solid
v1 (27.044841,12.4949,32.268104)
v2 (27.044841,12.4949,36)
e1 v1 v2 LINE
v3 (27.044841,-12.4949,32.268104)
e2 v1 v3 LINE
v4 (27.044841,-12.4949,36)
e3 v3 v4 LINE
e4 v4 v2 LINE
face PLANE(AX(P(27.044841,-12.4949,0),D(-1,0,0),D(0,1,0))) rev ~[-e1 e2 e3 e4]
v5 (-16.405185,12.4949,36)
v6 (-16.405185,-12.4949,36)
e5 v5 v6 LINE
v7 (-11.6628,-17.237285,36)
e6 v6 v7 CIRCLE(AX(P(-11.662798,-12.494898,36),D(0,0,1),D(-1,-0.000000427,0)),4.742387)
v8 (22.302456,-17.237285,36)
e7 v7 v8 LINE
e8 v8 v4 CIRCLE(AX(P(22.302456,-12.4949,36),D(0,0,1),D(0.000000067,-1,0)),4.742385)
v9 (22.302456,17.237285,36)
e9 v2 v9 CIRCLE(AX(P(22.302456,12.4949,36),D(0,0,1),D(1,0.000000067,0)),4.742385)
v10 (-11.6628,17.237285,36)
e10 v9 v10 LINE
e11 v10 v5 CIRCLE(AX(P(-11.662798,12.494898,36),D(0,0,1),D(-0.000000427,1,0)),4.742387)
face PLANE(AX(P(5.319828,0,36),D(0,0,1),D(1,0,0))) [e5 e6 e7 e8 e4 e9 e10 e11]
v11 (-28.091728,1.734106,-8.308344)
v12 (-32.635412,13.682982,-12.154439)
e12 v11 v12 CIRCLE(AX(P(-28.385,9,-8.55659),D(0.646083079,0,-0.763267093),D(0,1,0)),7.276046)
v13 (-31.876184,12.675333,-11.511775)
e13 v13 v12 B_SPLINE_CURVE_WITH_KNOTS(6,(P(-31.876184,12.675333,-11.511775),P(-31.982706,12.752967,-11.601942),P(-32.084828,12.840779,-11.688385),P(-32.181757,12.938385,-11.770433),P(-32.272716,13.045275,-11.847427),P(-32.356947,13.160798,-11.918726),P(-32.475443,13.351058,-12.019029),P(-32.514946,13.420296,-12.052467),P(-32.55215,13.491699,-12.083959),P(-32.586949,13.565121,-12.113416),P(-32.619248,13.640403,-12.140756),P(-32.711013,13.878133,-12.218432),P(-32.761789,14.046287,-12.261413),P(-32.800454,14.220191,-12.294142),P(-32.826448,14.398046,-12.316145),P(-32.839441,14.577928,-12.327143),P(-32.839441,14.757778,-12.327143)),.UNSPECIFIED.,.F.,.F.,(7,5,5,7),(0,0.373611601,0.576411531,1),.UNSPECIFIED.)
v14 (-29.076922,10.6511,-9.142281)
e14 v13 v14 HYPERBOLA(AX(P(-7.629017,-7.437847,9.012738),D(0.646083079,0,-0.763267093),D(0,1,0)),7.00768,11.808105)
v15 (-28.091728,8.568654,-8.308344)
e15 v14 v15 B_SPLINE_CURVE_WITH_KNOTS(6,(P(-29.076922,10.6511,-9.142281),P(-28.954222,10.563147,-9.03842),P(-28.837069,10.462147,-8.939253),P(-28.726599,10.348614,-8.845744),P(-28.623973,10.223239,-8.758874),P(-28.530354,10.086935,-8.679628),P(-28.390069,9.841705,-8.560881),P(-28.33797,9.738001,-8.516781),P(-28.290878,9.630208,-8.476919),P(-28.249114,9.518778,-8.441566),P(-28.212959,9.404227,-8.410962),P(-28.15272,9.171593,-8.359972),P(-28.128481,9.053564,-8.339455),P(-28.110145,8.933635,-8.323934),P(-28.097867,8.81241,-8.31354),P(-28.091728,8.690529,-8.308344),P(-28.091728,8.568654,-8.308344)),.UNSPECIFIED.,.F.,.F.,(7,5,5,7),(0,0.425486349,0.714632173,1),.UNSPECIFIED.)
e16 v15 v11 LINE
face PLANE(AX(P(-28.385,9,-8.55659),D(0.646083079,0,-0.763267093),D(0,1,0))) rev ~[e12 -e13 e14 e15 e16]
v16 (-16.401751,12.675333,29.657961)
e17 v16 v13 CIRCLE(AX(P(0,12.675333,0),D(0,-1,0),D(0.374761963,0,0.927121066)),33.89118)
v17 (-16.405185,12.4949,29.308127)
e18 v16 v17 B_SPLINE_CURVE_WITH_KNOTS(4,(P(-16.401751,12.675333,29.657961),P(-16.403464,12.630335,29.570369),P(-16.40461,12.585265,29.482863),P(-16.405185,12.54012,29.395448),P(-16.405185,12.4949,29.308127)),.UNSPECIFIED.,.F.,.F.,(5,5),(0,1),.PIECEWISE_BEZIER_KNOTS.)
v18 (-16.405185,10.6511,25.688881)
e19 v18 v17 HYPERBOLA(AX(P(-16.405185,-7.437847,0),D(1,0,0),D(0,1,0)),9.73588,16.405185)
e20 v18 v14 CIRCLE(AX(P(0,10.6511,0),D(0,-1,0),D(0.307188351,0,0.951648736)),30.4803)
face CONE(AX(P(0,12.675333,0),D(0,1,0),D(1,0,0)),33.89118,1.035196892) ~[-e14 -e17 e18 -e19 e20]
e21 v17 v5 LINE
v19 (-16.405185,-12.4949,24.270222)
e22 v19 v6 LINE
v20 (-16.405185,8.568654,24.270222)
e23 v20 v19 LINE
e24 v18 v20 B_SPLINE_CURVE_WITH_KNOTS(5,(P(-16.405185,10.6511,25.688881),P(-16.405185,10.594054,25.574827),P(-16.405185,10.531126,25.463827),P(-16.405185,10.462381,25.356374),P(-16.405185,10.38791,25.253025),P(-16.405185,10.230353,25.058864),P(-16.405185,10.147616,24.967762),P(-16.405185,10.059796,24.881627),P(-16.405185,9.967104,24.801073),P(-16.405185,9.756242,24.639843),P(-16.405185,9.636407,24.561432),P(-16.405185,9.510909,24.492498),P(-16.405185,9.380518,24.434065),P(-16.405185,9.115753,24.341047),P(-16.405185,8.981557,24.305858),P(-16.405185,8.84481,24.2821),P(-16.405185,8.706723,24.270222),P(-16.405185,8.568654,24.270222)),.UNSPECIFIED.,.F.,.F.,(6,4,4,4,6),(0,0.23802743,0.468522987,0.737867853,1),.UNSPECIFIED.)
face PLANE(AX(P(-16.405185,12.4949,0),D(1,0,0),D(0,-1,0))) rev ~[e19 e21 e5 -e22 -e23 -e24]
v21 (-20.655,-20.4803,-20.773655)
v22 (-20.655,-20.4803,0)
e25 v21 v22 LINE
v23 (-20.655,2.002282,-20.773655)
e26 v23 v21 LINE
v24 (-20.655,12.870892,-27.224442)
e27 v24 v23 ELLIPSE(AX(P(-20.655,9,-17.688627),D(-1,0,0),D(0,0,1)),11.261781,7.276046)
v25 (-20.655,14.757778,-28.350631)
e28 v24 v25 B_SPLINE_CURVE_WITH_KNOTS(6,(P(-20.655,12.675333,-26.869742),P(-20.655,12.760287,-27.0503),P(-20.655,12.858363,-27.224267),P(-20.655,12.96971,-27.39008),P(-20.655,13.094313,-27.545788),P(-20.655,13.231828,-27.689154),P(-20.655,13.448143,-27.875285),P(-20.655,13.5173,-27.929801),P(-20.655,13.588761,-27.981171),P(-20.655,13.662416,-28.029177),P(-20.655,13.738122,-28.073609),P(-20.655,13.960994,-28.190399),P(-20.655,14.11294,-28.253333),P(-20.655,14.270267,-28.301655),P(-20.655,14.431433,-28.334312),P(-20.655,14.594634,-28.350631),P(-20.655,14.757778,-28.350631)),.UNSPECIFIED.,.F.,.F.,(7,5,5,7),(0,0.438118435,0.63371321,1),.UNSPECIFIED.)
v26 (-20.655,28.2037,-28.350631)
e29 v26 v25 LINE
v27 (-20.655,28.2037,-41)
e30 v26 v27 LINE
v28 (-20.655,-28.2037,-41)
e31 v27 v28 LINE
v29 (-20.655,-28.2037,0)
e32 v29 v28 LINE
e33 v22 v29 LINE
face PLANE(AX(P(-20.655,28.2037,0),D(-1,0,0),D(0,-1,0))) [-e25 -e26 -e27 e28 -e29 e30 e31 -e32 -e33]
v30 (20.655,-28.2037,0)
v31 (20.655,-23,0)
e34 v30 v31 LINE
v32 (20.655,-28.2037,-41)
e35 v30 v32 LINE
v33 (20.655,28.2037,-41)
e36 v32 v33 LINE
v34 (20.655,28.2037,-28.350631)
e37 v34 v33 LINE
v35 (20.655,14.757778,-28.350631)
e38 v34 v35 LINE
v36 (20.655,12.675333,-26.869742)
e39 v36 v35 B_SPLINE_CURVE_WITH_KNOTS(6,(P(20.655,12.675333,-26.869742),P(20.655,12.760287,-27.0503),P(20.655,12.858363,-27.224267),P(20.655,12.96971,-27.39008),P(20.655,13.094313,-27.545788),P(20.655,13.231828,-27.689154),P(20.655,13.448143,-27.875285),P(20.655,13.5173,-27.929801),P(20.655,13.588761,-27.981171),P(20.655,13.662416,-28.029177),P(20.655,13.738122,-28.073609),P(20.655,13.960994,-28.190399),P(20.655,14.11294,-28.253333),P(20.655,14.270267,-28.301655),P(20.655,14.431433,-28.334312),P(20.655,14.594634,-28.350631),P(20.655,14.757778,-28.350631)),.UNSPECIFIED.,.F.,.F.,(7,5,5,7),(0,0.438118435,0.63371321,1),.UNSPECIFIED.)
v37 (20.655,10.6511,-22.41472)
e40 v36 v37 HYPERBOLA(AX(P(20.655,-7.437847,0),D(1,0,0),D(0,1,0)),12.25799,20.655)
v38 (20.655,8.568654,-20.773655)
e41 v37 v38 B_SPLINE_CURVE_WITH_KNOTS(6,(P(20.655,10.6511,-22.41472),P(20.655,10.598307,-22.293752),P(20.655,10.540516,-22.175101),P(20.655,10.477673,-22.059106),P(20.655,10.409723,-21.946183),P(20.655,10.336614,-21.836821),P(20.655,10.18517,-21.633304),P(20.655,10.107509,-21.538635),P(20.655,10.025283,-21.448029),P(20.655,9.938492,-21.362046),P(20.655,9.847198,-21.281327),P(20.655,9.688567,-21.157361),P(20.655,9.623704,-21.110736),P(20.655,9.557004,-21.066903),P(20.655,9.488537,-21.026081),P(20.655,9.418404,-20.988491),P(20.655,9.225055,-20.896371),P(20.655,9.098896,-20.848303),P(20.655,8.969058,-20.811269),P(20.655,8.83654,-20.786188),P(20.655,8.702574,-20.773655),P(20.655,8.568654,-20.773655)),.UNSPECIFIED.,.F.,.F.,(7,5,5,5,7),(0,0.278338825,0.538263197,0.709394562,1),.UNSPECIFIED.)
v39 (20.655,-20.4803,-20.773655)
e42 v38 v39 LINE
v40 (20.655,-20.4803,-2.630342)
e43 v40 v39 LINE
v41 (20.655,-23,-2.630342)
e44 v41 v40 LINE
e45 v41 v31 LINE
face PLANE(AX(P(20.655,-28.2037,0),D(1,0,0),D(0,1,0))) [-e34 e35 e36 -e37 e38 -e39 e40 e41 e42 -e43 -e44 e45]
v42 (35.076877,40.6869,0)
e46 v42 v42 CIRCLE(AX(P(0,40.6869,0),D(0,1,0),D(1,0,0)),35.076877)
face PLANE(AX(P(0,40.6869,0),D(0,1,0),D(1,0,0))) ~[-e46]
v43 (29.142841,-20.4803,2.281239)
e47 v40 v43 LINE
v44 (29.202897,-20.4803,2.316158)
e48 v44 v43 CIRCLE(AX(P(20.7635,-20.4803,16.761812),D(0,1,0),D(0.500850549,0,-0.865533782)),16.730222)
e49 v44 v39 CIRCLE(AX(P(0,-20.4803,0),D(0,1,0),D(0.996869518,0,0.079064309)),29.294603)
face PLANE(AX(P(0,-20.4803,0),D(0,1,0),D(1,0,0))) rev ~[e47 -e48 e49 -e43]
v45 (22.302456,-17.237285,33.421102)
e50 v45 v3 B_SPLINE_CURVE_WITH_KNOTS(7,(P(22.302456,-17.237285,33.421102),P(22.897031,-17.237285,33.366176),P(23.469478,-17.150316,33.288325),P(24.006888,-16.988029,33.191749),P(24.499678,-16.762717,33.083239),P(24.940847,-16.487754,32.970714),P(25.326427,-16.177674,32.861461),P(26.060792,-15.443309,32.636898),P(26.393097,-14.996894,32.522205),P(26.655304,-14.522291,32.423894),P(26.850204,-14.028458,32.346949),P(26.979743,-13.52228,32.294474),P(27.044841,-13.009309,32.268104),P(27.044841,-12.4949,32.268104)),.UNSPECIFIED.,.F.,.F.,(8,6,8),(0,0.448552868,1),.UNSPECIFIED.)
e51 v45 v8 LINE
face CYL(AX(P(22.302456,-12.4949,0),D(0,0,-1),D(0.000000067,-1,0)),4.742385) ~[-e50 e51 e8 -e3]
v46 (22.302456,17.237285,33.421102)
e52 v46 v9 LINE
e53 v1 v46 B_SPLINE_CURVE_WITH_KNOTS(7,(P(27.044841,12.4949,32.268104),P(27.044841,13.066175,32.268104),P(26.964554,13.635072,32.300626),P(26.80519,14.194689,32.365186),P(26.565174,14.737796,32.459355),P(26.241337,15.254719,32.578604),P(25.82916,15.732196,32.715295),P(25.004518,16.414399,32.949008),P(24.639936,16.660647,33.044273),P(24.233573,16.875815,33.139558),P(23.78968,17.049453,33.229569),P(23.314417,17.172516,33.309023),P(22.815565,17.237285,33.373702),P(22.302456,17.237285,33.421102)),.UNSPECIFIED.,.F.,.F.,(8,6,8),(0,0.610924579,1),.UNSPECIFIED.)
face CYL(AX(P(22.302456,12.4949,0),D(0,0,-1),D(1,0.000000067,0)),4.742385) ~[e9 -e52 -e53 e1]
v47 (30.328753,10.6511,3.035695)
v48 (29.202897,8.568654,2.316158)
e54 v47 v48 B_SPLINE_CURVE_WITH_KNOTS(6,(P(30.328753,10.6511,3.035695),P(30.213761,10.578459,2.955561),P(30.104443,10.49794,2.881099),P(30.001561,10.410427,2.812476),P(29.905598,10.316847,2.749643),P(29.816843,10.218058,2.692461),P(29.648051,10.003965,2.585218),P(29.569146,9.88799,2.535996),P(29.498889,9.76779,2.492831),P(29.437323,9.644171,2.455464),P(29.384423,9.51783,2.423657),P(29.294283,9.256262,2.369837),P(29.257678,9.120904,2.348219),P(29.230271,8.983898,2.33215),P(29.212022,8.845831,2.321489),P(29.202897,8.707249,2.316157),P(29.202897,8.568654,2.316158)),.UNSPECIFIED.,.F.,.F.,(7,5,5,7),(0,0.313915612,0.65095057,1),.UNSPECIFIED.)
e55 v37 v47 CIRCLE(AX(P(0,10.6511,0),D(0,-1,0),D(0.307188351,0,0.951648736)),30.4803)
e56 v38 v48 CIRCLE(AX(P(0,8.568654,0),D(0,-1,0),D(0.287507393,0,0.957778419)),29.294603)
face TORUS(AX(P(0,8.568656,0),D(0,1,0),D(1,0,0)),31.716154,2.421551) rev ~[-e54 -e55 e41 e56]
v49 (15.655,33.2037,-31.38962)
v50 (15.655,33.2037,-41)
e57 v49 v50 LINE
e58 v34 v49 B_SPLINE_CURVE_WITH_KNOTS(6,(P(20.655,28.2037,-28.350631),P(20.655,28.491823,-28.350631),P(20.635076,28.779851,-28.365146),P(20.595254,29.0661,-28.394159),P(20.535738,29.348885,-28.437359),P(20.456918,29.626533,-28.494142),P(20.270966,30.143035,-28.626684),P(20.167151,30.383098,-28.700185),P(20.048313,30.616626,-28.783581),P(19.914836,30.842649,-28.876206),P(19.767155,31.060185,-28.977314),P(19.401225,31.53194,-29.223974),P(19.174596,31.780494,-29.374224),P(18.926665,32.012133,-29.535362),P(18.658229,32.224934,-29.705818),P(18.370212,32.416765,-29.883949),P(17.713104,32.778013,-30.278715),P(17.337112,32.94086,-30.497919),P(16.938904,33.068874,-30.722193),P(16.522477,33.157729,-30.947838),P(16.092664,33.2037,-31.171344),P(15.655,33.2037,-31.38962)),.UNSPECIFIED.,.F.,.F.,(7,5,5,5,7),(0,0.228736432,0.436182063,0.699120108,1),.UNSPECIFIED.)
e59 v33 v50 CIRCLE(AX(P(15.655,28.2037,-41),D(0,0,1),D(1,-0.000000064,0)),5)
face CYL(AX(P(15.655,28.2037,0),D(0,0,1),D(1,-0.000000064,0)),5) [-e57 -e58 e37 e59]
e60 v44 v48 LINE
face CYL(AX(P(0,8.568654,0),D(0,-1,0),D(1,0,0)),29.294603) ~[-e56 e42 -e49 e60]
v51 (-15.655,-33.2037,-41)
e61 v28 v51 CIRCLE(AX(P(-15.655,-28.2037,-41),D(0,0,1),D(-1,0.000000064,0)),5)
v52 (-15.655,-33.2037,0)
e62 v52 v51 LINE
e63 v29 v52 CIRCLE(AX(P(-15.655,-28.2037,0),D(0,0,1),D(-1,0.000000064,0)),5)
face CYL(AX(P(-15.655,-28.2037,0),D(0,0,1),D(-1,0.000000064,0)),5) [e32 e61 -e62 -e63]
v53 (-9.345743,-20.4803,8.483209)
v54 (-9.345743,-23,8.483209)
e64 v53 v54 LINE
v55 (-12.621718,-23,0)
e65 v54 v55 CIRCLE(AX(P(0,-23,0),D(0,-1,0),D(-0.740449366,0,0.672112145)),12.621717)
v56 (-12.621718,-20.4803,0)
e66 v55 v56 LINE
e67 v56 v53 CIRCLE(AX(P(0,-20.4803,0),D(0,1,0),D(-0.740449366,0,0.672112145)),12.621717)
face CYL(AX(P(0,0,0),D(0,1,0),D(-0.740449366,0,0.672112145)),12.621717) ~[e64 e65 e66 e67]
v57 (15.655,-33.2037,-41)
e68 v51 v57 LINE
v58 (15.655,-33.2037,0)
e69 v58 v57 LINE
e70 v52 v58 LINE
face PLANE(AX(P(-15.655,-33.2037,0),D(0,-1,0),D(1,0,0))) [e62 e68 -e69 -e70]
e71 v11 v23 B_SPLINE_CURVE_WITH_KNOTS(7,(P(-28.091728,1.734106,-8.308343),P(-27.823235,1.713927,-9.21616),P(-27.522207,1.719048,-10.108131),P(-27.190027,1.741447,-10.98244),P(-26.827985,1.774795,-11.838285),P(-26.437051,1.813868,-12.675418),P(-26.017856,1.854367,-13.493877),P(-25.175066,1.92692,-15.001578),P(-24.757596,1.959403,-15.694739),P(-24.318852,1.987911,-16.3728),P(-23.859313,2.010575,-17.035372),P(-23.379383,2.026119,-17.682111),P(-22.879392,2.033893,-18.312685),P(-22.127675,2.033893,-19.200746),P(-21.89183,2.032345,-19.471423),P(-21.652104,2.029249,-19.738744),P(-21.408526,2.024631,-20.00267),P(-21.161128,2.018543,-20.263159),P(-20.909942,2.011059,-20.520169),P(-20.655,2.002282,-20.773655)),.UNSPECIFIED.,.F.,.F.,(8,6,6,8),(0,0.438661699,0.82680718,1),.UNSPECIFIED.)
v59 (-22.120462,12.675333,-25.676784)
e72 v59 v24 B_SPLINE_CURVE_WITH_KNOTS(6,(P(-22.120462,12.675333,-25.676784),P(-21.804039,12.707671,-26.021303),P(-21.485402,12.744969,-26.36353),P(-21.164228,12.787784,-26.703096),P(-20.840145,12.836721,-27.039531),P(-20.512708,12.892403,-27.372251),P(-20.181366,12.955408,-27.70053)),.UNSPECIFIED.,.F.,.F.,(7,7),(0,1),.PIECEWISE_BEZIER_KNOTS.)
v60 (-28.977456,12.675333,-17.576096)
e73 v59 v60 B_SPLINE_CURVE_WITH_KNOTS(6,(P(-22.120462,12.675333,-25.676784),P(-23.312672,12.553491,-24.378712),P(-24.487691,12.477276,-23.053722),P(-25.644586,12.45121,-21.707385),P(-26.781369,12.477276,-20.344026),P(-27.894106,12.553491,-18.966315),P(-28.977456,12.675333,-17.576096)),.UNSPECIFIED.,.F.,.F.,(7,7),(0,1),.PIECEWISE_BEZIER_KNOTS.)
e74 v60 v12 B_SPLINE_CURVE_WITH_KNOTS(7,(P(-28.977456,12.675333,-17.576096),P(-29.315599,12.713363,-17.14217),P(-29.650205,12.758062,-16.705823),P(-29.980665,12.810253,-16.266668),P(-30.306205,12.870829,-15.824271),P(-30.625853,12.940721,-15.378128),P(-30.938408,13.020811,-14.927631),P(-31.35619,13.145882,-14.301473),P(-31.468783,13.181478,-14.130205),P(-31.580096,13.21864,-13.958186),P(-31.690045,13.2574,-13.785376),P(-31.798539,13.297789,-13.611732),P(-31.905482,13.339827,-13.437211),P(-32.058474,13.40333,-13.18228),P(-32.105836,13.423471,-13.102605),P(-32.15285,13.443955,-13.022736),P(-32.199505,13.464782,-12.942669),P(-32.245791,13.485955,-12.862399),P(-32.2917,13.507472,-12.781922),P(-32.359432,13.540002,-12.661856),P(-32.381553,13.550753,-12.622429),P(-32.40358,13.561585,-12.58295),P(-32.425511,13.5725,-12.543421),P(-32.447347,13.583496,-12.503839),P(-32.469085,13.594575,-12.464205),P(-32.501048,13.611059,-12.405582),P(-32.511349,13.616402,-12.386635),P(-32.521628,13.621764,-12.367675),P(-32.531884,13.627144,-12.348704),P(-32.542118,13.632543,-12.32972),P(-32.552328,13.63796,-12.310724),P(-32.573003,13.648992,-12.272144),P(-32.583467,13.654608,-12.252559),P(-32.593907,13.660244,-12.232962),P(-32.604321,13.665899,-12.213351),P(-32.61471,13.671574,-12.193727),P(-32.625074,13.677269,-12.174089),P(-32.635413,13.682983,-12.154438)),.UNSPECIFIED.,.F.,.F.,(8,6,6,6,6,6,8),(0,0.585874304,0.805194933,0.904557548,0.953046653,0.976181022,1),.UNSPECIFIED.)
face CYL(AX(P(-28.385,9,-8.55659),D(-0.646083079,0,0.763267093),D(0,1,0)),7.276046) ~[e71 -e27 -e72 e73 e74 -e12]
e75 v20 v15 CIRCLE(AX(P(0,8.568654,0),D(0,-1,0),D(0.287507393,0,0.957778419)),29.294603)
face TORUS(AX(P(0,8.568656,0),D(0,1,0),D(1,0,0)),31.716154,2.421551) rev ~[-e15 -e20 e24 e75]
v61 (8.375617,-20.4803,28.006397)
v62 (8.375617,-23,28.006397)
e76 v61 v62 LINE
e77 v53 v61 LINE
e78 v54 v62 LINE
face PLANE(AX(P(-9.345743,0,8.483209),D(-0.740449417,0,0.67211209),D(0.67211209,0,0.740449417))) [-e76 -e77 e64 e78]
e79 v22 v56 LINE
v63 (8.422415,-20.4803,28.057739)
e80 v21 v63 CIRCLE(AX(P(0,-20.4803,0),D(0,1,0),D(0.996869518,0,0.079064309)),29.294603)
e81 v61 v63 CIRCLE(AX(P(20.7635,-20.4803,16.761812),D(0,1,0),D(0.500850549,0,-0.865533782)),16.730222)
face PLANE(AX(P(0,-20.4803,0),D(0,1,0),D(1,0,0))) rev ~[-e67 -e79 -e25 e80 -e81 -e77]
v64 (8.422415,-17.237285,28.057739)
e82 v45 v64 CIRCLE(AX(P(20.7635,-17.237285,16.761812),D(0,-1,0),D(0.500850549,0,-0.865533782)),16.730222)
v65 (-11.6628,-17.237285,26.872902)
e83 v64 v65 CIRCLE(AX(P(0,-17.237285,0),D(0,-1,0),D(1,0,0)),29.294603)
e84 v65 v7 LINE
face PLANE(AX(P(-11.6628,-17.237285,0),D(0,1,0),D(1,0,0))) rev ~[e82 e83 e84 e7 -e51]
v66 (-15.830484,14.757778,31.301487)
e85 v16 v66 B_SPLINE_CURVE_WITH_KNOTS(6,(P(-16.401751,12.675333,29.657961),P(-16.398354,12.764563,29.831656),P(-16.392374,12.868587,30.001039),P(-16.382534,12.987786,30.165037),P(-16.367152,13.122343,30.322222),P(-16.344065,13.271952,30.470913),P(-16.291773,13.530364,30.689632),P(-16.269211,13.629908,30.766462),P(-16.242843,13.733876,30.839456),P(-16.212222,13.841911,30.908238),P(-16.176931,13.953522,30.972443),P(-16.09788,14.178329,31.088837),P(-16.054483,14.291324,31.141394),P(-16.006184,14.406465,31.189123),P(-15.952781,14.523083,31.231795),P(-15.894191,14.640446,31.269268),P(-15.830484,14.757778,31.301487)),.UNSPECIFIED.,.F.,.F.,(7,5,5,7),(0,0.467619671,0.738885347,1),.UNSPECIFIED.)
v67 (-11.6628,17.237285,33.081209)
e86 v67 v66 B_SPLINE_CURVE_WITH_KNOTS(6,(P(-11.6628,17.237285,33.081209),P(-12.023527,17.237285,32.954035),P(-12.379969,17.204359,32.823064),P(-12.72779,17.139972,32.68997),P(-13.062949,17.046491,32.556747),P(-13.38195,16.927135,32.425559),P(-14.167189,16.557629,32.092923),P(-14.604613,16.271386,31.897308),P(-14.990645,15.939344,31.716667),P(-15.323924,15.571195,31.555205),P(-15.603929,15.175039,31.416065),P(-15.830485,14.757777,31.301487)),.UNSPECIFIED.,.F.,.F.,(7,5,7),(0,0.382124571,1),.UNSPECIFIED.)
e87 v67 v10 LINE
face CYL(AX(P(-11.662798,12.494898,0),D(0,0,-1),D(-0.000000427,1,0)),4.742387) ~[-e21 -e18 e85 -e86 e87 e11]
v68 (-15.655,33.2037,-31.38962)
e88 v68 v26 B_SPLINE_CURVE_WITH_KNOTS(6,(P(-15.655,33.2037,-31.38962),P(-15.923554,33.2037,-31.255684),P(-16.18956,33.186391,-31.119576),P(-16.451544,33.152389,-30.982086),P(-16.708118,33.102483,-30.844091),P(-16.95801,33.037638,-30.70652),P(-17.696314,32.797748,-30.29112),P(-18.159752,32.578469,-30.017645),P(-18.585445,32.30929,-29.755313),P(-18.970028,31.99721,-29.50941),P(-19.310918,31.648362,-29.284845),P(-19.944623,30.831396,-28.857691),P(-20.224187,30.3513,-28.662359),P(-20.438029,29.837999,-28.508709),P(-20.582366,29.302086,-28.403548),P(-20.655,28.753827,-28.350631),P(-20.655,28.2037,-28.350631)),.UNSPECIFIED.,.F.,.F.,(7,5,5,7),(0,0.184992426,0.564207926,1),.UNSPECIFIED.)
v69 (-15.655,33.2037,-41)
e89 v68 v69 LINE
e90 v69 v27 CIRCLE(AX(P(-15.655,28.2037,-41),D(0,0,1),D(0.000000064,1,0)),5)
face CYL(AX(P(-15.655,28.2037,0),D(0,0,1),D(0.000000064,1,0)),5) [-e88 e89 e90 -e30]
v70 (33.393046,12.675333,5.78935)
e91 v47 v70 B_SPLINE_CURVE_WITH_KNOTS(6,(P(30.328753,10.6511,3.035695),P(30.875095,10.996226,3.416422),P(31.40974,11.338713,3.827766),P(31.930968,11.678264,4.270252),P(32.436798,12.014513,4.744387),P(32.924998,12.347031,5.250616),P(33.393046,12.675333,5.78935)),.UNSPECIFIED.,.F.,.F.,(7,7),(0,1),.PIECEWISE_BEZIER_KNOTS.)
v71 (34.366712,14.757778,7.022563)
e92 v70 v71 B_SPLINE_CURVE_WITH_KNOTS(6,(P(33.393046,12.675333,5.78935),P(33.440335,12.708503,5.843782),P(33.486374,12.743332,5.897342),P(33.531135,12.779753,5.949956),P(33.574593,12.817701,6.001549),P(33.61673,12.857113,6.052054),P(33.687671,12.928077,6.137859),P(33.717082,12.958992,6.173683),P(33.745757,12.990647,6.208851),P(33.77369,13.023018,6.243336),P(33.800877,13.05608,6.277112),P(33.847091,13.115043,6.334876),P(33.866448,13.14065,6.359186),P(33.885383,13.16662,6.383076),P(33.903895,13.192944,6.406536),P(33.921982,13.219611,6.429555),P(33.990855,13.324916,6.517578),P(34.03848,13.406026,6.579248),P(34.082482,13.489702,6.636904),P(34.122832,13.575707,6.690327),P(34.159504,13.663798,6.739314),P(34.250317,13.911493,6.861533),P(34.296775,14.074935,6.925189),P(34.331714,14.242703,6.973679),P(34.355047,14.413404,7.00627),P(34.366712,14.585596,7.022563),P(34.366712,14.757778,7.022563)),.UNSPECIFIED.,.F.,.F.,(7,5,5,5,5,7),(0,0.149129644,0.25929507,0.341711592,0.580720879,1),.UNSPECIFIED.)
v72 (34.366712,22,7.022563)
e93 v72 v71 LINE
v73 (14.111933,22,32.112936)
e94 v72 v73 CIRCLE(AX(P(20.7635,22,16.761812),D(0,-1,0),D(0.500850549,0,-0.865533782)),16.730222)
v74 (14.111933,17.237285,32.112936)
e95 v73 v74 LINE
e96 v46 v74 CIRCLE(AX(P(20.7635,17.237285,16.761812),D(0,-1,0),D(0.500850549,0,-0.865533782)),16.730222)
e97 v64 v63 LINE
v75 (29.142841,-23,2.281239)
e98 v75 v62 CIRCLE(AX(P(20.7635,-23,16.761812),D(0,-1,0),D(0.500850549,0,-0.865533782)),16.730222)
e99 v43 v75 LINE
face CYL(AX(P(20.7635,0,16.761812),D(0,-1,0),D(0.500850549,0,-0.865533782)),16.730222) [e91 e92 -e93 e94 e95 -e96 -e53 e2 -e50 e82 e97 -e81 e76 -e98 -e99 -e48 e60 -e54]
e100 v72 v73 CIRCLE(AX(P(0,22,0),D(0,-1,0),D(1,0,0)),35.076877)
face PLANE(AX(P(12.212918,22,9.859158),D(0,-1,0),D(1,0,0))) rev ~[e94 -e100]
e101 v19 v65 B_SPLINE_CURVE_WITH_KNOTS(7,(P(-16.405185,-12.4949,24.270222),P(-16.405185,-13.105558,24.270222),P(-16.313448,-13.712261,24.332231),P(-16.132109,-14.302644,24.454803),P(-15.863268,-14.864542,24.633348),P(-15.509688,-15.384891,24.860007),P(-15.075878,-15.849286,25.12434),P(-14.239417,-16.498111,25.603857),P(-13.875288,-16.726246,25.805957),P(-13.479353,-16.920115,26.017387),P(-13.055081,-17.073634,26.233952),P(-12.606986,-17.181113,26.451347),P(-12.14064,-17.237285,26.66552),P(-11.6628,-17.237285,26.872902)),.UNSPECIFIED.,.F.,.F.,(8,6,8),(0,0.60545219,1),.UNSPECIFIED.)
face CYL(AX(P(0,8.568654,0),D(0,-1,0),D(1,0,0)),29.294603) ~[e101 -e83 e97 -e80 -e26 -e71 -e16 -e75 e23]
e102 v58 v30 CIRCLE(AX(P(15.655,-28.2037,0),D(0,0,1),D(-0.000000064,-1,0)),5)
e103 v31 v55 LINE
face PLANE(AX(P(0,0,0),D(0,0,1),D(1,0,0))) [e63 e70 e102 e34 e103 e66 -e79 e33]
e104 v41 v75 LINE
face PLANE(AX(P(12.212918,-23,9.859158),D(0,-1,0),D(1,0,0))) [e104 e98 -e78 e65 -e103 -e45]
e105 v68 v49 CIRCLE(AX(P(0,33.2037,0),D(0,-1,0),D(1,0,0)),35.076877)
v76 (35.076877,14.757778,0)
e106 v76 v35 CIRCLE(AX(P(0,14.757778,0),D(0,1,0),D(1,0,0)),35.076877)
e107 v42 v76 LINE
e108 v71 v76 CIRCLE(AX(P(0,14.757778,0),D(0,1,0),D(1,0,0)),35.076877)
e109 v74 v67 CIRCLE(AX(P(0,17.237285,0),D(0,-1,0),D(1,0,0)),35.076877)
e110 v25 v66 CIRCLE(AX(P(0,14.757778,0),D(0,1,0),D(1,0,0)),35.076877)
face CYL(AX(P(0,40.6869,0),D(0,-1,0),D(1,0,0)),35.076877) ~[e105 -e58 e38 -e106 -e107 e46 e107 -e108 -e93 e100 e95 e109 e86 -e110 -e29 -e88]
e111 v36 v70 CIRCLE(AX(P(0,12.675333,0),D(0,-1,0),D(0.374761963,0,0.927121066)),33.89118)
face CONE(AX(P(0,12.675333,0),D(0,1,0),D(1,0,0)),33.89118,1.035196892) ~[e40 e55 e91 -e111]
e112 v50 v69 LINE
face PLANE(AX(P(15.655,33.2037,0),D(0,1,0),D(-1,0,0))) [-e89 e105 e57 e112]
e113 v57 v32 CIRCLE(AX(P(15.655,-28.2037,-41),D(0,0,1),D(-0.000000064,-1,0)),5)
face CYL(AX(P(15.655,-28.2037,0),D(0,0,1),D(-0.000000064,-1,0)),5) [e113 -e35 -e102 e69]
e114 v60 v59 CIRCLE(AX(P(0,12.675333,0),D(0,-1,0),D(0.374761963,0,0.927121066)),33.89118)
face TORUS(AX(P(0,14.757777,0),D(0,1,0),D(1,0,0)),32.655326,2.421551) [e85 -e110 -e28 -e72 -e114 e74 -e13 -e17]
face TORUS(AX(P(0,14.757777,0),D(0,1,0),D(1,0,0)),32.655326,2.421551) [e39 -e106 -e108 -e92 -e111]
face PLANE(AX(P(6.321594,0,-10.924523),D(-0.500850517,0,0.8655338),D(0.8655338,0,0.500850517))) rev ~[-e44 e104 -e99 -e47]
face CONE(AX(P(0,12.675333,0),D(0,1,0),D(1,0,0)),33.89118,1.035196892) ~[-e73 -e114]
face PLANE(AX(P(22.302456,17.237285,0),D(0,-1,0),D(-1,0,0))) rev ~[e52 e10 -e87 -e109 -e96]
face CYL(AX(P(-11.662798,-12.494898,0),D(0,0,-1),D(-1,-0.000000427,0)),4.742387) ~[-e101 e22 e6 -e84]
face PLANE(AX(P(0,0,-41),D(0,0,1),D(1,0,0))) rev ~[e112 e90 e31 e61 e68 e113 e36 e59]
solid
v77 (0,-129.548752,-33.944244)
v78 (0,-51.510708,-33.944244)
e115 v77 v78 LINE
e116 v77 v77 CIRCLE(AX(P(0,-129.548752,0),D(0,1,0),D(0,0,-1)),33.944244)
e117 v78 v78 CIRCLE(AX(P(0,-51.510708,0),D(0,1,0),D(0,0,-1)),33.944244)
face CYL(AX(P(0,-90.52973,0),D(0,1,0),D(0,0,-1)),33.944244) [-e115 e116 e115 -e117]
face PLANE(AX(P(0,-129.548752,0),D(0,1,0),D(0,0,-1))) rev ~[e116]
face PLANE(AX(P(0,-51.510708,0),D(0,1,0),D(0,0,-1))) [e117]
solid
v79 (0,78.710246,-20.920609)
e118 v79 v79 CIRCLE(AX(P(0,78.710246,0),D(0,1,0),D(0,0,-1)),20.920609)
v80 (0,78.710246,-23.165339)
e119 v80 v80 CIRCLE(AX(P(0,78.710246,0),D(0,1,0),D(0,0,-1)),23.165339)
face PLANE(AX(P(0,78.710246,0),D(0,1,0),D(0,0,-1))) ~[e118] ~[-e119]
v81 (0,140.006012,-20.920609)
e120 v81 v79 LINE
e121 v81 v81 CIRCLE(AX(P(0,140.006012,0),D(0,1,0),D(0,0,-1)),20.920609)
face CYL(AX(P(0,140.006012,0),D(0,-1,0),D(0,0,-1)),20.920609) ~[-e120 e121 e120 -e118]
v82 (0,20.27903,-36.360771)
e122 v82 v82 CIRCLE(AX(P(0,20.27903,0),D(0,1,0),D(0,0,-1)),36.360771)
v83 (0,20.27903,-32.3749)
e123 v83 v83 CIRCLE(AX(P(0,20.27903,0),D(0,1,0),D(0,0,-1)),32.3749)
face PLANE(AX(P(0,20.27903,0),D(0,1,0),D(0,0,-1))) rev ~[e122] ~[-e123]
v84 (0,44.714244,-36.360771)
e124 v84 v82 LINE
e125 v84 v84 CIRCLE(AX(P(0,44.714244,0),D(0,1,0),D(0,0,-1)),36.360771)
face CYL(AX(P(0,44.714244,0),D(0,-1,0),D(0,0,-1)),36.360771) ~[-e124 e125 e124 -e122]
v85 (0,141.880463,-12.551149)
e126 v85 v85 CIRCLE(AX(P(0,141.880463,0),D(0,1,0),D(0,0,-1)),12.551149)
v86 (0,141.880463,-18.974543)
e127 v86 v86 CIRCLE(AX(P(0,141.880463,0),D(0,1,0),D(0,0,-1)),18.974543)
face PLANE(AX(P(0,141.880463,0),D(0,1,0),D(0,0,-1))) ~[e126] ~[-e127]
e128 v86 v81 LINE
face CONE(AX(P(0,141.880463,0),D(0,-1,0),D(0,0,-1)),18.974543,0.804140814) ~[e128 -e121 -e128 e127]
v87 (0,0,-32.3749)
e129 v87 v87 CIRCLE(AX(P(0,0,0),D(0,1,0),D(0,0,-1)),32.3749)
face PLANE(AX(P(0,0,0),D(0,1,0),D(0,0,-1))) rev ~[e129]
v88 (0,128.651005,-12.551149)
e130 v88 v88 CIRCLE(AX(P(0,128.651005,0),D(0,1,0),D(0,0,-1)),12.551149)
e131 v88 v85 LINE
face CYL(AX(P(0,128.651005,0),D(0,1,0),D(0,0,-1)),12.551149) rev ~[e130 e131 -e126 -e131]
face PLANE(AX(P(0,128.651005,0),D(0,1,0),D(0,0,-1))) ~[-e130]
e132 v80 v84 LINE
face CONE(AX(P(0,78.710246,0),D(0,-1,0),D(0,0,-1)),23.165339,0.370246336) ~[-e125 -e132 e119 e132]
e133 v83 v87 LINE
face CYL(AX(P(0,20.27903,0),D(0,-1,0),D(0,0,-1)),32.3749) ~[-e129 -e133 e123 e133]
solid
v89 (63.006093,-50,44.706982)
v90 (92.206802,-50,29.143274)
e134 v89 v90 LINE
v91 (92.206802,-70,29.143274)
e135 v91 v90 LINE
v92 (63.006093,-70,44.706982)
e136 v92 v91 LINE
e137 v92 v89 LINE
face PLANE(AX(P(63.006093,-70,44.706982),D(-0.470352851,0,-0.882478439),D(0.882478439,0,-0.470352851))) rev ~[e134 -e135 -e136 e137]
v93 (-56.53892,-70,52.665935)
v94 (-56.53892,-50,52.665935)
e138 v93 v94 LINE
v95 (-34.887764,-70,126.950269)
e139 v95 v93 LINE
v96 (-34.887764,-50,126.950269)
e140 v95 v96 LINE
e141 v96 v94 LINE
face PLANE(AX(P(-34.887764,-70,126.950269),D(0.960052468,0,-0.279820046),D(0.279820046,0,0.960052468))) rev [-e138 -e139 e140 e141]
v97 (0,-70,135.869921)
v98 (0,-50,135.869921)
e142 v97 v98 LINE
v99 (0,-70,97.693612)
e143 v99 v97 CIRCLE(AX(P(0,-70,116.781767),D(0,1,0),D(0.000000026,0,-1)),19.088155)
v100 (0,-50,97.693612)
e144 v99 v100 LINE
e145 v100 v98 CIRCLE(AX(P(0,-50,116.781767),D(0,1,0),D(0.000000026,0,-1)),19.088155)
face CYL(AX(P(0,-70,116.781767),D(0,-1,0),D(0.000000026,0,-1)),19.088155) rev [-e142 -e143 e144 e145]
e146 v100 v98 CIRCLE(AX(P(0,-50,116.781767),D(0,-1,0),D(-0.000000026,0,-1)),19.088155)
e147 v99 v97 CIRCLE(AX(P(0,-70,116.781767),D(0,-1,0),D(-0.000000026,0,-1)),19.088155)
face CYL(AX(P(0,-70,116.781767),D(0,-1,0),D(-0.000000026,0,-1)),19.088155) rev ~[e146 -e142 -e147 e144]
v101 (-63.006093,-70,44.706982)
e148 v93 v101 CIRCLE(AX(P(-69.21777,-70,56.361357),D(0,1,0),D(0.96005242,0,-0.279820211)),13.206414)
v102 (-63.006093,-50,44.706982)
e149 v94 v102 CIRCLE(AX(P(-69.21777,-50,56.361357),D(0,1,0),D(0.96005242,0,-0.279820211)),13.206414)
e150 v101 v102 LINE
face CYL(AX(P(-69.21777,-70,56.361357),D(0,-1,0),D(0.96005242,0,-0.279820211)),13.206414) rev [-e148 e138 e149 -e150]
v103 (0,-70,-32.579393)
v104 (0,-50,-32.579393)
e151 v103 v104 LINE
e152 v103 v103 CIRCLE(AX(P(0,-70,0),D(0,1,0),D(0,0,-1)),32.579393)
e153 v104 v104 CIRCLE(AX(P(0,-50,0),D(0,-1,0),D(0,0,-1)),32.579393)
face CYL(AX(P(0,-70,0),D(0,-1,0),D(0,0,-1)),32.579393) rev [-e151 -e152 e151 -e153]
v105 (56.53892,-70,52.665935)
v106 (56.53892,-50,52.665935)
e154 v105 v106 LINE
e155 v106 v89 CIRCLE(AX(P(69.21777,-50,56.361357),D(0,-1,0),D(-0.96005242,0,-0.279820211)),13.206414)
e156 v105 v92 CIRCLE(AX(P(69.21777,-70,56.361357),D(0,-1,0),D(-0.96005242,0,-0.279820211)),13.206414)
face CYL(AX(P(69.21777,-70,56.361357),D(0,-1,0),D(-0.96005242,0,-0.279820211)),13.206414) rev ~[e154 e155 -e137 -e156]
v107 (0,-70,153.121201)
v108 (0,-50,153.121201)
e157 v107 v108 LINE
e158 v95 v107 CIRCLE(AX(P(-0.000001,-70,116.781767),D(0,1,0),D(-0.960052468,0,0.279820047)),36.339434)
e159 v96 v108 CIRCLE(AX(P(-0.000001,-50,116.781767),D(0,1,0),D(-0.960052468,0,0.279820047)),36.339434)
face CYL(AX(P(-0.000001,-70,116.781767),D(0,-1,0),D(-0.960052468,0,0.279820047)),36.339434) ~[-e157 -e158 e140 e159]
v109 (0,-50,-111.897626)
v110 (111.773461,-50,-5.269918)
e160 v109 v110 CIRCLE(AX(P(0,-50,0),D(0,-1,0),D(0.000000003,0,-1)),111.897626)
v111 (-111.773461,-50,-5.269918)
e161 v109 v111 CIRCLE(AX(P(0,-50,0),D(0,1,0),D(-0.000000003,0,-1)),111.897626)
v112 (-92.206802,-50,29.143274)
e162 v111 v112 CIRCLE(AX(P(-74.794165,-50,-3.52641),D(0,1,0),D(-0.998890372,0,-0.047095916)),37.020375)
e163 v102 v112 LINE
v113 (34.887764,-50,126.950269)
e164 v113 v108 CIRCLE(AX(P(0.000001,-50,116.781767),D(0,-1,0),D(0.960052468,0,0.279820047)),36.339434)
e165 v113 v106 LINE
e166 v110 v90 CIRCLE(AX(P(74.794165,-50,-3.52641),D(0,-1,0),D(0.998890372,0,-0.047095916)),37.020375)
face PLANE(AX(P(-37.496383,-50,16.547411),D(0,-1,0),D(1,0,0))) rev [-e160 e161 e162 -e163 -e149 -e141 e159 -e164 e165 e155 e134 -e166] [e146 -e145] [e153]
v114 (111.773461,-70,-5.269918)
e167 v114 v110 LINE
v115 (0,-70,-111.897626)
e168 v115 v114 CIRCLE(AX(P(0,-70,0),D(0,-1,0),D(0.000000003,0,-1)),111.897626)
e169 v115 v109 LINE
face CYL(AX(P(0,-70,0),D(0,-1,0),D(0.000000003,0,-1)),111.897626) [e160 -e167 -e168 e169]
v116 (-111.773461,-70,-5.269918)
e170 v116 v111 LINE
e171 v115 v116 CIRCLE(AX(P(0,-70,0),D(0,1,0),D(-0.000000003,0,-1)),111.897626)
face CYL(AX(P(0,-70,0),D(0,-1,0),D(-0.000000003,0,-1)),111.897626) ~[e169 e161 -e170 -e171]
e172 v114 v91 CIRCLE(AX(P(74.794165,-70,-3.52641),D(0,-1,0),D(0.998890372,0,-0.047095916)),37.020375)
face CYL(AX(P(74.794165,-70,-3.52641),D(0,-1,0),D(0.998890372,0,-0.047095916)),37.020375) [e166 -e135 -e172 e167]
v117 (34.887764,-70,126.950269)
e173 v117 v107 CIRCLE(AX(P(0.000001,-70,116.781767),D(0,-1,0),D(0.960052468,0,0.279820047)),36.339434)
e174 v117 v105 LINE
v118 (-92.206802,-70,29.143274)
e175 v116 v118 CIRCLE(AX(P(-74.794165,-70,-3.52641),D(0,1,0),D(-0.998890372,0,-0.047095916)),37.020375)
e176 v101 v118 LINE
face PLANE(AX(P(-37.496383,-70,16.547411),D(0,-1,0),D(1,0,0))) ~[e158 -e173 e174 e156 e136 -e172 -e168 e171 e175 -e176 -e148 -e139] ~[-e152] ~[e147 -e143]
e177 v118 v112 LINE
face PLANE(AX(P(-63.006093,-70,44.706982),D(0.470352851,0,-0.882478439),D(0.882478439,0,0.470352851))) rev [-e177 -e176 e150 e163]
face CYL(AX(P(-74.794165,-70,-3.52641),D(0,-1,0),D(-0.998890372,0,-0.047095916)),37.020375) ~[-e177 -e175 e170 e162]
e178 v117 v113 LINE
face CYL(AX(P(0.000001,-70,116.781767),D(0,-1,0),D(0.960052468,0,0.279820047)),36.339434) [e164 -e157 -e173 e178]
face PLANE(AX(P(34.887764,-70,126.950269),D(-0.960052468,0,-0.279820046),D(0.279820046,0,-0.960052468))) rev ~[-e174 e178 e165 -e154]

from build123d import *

# Parameters (mm, degrees)
PAD_DEPTH      = 23
PAD_DEPTH_BACK = 22
PAD001_DEPTH   = 36
PAD003_DEPTH   = 41
SKETCH006_R    = 7.276046
PAD004_DEPTH   = 33
PAD005_DEPTH   = 20
SKETCH010_W    = 78.038044
SKETCH010_H    = 33.944244


with BuildPart() as body_engineblock_exsperimental:
    # Sketch (on XY_Plane of Origin) → Revolution (revolve)
    with BuildSketch(Plane.XY):
        with BuildLine():
            Line((35.076877, 40.6869), (35.076877, 14.757778))
            ThreePointArc((33.89118, 12.675333), (34.759678, 13.559607), (35.076877, 14.757778))
            Line((33.89118, 12.675333), (30.4803, 10.6511))
            ThreePointArc((30.4803, 10.6511), (29.611802, 9.766826), (29.294603, 8.568654))
            Line((29.294603, 8.568654), (29.294603, -20.4803))
            Line((29.294603, -20.4803), (0, -20.4803))
            Line((0, -20.4803), (0, 40.6869))
            Line((0, 40.6869), (35.076877, 40.6869))
        make_face()
    revolve(axis=Axis((0, 0, 0), (0, 1, 0)))

    # Sketch001 (on XZ_Plane of Origin) → Pad (new body, two sides)
    with BuildSketch(Plane.XZ) as pad_sk:
        with BuildLine():
            ThreePointArc((29.142841, 2.281239), (33.781297, 27.270727), (8.375617, 28.006397))
            Line((-9.345743, 8.483209), (8.375617, 28.006397))
            ThreePointArc((-9.345743, 8.483209), (-9.820967, -7.928201), (6.321594, -10.924523))
            Line((6.321594, -10.924523), (29.142841, 2.281239))
        make_face()
    extrude(amount=PAD_DEPTH)
    extrude(pad_sk.sketch, amount=-PAD_DEPTH_BACK)

    # Sketch002 (on XY_Plane of Origin) → Pad001 (join)
    with BuildSketch(Plane.XY):
        with BuildLine():
            Line((-16.405185, 12.4949), (-16.405185, -12.4949))
            ThreePointArc((-16.405185, -12.4949), (-15.016172, -15.848272), (-11.6628, -17.237285))
            Line((-11.6628, -17.237285), (22.302456, -17.237285))
            ThreePointArc((22.302456, -17.237285), (25.655829, -15.848272), (27.044841, -12.4949))
            Line((27.044841, -12.4949), (27.044841, 12.4949))
            ThreePointArc((27.044841, 12.4949), (25.655829, 15.848272), (22.302456, 17.237285))
            Line((22.302456, 17.237285), (-11.6628, 17.237285))
            ThreePointArc((-11.6628, 17.237285), (-15.016172, 15.848272), (-16.405185, 12.4949))
        make_face()
    extrude(amount=PAD001_DEPTH)

    # Sketch004 (on XY_Plane of Origin) → Pad003 (join)
    with BuildSketch(Plane.XY):
        with BuildLine():
            Line((-20.655, 28.2037), (-20.655, -28.2037))
            ThreePointArc((-20.655, -28.2037), (-19.190534, -31.739234), (-15.655, -33.2037))
            Line((-15.655, -33.2037), (15.655, -33.2037))
            ThreePointArc((15.655, -33.2037), (19.190534, -31.739234), (20.655, -28.2037))
            Line((20.655, -28.2037), (20.655, 28.2037))
            ThreePointArc((20.655, 28.2037), (19.190534, 31.739234), (15.655, 33.2037))
            Line((15.655, 33.2037), (-15.655, 33.2037))
            ThreePointArc((-15.655, 33.2037), (-19.190534, 31.739234), (-20.655, 28.2037))
        make_face()
    extrude(amount=-PAD003_DEPTH)

    # Sketch006 (on Vertex2 of Sketch005) → Pad004 (join)
    with BuildSketch(Plane(origin=(-28.385, 9, -8.55659), x_dir=(0, 1, 0), z_dir=(0.646083, 0, -0.763267))):
        Circle(SKETCH006_R)
    extrude(amount=PAD004_DEPTH)


with BuildPart() as body_flywheel_shaft:
    # Sketch008 (on YZ_Plane002 of Origin004) → Revolution001 (revolve)
    with BuildSketch(Plane.YZ):
        Polygon((128.651005, 0), (128.651005, -12.551149), (141.880463, -12.551149), (141.880463, -18.974543), (140.006012, -20.920609), (78.710246, -20.920609), (78.710246, -23.165339), (44.714244, -36.360771), (20.27903, -36.360771), (20.27903, -32.3749), (0, -32.3749), (0, 0), align=None)
    revolve(axis=Axis((0, 0, 0), (0, 1, 0)))


with BuildPart() as body003:
    # Sketch009 (on XZ_Plane003 of Origin006) → Pad005 (new body)
    with BuildSketch(Plane.XZ):
        with BuildLine():
            ThreePointArc((0, -111.897626), (77.237903, -80.965332), (111.773461, -5.269918))
            ThreePointArc((111.773461, -5.269918), (106.976265, 14.771694), (92.206802, 29.143274))
            Line((63.006093, 44.706982), (92.206802, 29.143274))
            ThreePointArc((56.53892, 52.665935), (58.968417, 48.033083), (63.006093, 44.706982))
            Line((34.887764, 126.950269), (56.53892, 52.665935))
            ThreePointArc((34.887764, 126.950269), (21.806385, 145.851271), (0, 153.121201))
            Line((0, 153.121201), (0, 135.869921))
            ThreePointArc((0, 97.693612), (19.088155, 116.781767), (0, 135.869921))
            Line((0, 97.693612), (0, 32.579393))
            ThreePointArc((0, -32.579393), (32.579393, 0), (0, 32.579393))
            Line((0, -32.579393), (0, -111.897626))
        make_face()
    extrude(amount=-PAD005_DEPTH)

    # Mirrored: Body003 across YZ


with BuildPart() as body003_1:
    add(body003.part)
    add(body003.part.mirror(Plane.YZ))


with BuildPart() as body003_2:
    # Body003 placement: moved
    add(body003_1.part.moved(Location((0, -70, 0))))


with BuildPart() as body004:
    # Sketch010 (on YZ_Plane005 of Origin010) → Revolution002 (revolve)
    with BuildSketch(Plane.YZ):
        with Locations((-90.52973, -16.972122)):
            Rectangle(SKETCH010_W, SKETCH010_H)
    revolve(axis=Axis((0, 0, 0), (0, 1, 0)))


solid = Compound([body_engineblock_exsperimental.part, body_flywheel_shaft.part, body003_2.part, body004.part])
